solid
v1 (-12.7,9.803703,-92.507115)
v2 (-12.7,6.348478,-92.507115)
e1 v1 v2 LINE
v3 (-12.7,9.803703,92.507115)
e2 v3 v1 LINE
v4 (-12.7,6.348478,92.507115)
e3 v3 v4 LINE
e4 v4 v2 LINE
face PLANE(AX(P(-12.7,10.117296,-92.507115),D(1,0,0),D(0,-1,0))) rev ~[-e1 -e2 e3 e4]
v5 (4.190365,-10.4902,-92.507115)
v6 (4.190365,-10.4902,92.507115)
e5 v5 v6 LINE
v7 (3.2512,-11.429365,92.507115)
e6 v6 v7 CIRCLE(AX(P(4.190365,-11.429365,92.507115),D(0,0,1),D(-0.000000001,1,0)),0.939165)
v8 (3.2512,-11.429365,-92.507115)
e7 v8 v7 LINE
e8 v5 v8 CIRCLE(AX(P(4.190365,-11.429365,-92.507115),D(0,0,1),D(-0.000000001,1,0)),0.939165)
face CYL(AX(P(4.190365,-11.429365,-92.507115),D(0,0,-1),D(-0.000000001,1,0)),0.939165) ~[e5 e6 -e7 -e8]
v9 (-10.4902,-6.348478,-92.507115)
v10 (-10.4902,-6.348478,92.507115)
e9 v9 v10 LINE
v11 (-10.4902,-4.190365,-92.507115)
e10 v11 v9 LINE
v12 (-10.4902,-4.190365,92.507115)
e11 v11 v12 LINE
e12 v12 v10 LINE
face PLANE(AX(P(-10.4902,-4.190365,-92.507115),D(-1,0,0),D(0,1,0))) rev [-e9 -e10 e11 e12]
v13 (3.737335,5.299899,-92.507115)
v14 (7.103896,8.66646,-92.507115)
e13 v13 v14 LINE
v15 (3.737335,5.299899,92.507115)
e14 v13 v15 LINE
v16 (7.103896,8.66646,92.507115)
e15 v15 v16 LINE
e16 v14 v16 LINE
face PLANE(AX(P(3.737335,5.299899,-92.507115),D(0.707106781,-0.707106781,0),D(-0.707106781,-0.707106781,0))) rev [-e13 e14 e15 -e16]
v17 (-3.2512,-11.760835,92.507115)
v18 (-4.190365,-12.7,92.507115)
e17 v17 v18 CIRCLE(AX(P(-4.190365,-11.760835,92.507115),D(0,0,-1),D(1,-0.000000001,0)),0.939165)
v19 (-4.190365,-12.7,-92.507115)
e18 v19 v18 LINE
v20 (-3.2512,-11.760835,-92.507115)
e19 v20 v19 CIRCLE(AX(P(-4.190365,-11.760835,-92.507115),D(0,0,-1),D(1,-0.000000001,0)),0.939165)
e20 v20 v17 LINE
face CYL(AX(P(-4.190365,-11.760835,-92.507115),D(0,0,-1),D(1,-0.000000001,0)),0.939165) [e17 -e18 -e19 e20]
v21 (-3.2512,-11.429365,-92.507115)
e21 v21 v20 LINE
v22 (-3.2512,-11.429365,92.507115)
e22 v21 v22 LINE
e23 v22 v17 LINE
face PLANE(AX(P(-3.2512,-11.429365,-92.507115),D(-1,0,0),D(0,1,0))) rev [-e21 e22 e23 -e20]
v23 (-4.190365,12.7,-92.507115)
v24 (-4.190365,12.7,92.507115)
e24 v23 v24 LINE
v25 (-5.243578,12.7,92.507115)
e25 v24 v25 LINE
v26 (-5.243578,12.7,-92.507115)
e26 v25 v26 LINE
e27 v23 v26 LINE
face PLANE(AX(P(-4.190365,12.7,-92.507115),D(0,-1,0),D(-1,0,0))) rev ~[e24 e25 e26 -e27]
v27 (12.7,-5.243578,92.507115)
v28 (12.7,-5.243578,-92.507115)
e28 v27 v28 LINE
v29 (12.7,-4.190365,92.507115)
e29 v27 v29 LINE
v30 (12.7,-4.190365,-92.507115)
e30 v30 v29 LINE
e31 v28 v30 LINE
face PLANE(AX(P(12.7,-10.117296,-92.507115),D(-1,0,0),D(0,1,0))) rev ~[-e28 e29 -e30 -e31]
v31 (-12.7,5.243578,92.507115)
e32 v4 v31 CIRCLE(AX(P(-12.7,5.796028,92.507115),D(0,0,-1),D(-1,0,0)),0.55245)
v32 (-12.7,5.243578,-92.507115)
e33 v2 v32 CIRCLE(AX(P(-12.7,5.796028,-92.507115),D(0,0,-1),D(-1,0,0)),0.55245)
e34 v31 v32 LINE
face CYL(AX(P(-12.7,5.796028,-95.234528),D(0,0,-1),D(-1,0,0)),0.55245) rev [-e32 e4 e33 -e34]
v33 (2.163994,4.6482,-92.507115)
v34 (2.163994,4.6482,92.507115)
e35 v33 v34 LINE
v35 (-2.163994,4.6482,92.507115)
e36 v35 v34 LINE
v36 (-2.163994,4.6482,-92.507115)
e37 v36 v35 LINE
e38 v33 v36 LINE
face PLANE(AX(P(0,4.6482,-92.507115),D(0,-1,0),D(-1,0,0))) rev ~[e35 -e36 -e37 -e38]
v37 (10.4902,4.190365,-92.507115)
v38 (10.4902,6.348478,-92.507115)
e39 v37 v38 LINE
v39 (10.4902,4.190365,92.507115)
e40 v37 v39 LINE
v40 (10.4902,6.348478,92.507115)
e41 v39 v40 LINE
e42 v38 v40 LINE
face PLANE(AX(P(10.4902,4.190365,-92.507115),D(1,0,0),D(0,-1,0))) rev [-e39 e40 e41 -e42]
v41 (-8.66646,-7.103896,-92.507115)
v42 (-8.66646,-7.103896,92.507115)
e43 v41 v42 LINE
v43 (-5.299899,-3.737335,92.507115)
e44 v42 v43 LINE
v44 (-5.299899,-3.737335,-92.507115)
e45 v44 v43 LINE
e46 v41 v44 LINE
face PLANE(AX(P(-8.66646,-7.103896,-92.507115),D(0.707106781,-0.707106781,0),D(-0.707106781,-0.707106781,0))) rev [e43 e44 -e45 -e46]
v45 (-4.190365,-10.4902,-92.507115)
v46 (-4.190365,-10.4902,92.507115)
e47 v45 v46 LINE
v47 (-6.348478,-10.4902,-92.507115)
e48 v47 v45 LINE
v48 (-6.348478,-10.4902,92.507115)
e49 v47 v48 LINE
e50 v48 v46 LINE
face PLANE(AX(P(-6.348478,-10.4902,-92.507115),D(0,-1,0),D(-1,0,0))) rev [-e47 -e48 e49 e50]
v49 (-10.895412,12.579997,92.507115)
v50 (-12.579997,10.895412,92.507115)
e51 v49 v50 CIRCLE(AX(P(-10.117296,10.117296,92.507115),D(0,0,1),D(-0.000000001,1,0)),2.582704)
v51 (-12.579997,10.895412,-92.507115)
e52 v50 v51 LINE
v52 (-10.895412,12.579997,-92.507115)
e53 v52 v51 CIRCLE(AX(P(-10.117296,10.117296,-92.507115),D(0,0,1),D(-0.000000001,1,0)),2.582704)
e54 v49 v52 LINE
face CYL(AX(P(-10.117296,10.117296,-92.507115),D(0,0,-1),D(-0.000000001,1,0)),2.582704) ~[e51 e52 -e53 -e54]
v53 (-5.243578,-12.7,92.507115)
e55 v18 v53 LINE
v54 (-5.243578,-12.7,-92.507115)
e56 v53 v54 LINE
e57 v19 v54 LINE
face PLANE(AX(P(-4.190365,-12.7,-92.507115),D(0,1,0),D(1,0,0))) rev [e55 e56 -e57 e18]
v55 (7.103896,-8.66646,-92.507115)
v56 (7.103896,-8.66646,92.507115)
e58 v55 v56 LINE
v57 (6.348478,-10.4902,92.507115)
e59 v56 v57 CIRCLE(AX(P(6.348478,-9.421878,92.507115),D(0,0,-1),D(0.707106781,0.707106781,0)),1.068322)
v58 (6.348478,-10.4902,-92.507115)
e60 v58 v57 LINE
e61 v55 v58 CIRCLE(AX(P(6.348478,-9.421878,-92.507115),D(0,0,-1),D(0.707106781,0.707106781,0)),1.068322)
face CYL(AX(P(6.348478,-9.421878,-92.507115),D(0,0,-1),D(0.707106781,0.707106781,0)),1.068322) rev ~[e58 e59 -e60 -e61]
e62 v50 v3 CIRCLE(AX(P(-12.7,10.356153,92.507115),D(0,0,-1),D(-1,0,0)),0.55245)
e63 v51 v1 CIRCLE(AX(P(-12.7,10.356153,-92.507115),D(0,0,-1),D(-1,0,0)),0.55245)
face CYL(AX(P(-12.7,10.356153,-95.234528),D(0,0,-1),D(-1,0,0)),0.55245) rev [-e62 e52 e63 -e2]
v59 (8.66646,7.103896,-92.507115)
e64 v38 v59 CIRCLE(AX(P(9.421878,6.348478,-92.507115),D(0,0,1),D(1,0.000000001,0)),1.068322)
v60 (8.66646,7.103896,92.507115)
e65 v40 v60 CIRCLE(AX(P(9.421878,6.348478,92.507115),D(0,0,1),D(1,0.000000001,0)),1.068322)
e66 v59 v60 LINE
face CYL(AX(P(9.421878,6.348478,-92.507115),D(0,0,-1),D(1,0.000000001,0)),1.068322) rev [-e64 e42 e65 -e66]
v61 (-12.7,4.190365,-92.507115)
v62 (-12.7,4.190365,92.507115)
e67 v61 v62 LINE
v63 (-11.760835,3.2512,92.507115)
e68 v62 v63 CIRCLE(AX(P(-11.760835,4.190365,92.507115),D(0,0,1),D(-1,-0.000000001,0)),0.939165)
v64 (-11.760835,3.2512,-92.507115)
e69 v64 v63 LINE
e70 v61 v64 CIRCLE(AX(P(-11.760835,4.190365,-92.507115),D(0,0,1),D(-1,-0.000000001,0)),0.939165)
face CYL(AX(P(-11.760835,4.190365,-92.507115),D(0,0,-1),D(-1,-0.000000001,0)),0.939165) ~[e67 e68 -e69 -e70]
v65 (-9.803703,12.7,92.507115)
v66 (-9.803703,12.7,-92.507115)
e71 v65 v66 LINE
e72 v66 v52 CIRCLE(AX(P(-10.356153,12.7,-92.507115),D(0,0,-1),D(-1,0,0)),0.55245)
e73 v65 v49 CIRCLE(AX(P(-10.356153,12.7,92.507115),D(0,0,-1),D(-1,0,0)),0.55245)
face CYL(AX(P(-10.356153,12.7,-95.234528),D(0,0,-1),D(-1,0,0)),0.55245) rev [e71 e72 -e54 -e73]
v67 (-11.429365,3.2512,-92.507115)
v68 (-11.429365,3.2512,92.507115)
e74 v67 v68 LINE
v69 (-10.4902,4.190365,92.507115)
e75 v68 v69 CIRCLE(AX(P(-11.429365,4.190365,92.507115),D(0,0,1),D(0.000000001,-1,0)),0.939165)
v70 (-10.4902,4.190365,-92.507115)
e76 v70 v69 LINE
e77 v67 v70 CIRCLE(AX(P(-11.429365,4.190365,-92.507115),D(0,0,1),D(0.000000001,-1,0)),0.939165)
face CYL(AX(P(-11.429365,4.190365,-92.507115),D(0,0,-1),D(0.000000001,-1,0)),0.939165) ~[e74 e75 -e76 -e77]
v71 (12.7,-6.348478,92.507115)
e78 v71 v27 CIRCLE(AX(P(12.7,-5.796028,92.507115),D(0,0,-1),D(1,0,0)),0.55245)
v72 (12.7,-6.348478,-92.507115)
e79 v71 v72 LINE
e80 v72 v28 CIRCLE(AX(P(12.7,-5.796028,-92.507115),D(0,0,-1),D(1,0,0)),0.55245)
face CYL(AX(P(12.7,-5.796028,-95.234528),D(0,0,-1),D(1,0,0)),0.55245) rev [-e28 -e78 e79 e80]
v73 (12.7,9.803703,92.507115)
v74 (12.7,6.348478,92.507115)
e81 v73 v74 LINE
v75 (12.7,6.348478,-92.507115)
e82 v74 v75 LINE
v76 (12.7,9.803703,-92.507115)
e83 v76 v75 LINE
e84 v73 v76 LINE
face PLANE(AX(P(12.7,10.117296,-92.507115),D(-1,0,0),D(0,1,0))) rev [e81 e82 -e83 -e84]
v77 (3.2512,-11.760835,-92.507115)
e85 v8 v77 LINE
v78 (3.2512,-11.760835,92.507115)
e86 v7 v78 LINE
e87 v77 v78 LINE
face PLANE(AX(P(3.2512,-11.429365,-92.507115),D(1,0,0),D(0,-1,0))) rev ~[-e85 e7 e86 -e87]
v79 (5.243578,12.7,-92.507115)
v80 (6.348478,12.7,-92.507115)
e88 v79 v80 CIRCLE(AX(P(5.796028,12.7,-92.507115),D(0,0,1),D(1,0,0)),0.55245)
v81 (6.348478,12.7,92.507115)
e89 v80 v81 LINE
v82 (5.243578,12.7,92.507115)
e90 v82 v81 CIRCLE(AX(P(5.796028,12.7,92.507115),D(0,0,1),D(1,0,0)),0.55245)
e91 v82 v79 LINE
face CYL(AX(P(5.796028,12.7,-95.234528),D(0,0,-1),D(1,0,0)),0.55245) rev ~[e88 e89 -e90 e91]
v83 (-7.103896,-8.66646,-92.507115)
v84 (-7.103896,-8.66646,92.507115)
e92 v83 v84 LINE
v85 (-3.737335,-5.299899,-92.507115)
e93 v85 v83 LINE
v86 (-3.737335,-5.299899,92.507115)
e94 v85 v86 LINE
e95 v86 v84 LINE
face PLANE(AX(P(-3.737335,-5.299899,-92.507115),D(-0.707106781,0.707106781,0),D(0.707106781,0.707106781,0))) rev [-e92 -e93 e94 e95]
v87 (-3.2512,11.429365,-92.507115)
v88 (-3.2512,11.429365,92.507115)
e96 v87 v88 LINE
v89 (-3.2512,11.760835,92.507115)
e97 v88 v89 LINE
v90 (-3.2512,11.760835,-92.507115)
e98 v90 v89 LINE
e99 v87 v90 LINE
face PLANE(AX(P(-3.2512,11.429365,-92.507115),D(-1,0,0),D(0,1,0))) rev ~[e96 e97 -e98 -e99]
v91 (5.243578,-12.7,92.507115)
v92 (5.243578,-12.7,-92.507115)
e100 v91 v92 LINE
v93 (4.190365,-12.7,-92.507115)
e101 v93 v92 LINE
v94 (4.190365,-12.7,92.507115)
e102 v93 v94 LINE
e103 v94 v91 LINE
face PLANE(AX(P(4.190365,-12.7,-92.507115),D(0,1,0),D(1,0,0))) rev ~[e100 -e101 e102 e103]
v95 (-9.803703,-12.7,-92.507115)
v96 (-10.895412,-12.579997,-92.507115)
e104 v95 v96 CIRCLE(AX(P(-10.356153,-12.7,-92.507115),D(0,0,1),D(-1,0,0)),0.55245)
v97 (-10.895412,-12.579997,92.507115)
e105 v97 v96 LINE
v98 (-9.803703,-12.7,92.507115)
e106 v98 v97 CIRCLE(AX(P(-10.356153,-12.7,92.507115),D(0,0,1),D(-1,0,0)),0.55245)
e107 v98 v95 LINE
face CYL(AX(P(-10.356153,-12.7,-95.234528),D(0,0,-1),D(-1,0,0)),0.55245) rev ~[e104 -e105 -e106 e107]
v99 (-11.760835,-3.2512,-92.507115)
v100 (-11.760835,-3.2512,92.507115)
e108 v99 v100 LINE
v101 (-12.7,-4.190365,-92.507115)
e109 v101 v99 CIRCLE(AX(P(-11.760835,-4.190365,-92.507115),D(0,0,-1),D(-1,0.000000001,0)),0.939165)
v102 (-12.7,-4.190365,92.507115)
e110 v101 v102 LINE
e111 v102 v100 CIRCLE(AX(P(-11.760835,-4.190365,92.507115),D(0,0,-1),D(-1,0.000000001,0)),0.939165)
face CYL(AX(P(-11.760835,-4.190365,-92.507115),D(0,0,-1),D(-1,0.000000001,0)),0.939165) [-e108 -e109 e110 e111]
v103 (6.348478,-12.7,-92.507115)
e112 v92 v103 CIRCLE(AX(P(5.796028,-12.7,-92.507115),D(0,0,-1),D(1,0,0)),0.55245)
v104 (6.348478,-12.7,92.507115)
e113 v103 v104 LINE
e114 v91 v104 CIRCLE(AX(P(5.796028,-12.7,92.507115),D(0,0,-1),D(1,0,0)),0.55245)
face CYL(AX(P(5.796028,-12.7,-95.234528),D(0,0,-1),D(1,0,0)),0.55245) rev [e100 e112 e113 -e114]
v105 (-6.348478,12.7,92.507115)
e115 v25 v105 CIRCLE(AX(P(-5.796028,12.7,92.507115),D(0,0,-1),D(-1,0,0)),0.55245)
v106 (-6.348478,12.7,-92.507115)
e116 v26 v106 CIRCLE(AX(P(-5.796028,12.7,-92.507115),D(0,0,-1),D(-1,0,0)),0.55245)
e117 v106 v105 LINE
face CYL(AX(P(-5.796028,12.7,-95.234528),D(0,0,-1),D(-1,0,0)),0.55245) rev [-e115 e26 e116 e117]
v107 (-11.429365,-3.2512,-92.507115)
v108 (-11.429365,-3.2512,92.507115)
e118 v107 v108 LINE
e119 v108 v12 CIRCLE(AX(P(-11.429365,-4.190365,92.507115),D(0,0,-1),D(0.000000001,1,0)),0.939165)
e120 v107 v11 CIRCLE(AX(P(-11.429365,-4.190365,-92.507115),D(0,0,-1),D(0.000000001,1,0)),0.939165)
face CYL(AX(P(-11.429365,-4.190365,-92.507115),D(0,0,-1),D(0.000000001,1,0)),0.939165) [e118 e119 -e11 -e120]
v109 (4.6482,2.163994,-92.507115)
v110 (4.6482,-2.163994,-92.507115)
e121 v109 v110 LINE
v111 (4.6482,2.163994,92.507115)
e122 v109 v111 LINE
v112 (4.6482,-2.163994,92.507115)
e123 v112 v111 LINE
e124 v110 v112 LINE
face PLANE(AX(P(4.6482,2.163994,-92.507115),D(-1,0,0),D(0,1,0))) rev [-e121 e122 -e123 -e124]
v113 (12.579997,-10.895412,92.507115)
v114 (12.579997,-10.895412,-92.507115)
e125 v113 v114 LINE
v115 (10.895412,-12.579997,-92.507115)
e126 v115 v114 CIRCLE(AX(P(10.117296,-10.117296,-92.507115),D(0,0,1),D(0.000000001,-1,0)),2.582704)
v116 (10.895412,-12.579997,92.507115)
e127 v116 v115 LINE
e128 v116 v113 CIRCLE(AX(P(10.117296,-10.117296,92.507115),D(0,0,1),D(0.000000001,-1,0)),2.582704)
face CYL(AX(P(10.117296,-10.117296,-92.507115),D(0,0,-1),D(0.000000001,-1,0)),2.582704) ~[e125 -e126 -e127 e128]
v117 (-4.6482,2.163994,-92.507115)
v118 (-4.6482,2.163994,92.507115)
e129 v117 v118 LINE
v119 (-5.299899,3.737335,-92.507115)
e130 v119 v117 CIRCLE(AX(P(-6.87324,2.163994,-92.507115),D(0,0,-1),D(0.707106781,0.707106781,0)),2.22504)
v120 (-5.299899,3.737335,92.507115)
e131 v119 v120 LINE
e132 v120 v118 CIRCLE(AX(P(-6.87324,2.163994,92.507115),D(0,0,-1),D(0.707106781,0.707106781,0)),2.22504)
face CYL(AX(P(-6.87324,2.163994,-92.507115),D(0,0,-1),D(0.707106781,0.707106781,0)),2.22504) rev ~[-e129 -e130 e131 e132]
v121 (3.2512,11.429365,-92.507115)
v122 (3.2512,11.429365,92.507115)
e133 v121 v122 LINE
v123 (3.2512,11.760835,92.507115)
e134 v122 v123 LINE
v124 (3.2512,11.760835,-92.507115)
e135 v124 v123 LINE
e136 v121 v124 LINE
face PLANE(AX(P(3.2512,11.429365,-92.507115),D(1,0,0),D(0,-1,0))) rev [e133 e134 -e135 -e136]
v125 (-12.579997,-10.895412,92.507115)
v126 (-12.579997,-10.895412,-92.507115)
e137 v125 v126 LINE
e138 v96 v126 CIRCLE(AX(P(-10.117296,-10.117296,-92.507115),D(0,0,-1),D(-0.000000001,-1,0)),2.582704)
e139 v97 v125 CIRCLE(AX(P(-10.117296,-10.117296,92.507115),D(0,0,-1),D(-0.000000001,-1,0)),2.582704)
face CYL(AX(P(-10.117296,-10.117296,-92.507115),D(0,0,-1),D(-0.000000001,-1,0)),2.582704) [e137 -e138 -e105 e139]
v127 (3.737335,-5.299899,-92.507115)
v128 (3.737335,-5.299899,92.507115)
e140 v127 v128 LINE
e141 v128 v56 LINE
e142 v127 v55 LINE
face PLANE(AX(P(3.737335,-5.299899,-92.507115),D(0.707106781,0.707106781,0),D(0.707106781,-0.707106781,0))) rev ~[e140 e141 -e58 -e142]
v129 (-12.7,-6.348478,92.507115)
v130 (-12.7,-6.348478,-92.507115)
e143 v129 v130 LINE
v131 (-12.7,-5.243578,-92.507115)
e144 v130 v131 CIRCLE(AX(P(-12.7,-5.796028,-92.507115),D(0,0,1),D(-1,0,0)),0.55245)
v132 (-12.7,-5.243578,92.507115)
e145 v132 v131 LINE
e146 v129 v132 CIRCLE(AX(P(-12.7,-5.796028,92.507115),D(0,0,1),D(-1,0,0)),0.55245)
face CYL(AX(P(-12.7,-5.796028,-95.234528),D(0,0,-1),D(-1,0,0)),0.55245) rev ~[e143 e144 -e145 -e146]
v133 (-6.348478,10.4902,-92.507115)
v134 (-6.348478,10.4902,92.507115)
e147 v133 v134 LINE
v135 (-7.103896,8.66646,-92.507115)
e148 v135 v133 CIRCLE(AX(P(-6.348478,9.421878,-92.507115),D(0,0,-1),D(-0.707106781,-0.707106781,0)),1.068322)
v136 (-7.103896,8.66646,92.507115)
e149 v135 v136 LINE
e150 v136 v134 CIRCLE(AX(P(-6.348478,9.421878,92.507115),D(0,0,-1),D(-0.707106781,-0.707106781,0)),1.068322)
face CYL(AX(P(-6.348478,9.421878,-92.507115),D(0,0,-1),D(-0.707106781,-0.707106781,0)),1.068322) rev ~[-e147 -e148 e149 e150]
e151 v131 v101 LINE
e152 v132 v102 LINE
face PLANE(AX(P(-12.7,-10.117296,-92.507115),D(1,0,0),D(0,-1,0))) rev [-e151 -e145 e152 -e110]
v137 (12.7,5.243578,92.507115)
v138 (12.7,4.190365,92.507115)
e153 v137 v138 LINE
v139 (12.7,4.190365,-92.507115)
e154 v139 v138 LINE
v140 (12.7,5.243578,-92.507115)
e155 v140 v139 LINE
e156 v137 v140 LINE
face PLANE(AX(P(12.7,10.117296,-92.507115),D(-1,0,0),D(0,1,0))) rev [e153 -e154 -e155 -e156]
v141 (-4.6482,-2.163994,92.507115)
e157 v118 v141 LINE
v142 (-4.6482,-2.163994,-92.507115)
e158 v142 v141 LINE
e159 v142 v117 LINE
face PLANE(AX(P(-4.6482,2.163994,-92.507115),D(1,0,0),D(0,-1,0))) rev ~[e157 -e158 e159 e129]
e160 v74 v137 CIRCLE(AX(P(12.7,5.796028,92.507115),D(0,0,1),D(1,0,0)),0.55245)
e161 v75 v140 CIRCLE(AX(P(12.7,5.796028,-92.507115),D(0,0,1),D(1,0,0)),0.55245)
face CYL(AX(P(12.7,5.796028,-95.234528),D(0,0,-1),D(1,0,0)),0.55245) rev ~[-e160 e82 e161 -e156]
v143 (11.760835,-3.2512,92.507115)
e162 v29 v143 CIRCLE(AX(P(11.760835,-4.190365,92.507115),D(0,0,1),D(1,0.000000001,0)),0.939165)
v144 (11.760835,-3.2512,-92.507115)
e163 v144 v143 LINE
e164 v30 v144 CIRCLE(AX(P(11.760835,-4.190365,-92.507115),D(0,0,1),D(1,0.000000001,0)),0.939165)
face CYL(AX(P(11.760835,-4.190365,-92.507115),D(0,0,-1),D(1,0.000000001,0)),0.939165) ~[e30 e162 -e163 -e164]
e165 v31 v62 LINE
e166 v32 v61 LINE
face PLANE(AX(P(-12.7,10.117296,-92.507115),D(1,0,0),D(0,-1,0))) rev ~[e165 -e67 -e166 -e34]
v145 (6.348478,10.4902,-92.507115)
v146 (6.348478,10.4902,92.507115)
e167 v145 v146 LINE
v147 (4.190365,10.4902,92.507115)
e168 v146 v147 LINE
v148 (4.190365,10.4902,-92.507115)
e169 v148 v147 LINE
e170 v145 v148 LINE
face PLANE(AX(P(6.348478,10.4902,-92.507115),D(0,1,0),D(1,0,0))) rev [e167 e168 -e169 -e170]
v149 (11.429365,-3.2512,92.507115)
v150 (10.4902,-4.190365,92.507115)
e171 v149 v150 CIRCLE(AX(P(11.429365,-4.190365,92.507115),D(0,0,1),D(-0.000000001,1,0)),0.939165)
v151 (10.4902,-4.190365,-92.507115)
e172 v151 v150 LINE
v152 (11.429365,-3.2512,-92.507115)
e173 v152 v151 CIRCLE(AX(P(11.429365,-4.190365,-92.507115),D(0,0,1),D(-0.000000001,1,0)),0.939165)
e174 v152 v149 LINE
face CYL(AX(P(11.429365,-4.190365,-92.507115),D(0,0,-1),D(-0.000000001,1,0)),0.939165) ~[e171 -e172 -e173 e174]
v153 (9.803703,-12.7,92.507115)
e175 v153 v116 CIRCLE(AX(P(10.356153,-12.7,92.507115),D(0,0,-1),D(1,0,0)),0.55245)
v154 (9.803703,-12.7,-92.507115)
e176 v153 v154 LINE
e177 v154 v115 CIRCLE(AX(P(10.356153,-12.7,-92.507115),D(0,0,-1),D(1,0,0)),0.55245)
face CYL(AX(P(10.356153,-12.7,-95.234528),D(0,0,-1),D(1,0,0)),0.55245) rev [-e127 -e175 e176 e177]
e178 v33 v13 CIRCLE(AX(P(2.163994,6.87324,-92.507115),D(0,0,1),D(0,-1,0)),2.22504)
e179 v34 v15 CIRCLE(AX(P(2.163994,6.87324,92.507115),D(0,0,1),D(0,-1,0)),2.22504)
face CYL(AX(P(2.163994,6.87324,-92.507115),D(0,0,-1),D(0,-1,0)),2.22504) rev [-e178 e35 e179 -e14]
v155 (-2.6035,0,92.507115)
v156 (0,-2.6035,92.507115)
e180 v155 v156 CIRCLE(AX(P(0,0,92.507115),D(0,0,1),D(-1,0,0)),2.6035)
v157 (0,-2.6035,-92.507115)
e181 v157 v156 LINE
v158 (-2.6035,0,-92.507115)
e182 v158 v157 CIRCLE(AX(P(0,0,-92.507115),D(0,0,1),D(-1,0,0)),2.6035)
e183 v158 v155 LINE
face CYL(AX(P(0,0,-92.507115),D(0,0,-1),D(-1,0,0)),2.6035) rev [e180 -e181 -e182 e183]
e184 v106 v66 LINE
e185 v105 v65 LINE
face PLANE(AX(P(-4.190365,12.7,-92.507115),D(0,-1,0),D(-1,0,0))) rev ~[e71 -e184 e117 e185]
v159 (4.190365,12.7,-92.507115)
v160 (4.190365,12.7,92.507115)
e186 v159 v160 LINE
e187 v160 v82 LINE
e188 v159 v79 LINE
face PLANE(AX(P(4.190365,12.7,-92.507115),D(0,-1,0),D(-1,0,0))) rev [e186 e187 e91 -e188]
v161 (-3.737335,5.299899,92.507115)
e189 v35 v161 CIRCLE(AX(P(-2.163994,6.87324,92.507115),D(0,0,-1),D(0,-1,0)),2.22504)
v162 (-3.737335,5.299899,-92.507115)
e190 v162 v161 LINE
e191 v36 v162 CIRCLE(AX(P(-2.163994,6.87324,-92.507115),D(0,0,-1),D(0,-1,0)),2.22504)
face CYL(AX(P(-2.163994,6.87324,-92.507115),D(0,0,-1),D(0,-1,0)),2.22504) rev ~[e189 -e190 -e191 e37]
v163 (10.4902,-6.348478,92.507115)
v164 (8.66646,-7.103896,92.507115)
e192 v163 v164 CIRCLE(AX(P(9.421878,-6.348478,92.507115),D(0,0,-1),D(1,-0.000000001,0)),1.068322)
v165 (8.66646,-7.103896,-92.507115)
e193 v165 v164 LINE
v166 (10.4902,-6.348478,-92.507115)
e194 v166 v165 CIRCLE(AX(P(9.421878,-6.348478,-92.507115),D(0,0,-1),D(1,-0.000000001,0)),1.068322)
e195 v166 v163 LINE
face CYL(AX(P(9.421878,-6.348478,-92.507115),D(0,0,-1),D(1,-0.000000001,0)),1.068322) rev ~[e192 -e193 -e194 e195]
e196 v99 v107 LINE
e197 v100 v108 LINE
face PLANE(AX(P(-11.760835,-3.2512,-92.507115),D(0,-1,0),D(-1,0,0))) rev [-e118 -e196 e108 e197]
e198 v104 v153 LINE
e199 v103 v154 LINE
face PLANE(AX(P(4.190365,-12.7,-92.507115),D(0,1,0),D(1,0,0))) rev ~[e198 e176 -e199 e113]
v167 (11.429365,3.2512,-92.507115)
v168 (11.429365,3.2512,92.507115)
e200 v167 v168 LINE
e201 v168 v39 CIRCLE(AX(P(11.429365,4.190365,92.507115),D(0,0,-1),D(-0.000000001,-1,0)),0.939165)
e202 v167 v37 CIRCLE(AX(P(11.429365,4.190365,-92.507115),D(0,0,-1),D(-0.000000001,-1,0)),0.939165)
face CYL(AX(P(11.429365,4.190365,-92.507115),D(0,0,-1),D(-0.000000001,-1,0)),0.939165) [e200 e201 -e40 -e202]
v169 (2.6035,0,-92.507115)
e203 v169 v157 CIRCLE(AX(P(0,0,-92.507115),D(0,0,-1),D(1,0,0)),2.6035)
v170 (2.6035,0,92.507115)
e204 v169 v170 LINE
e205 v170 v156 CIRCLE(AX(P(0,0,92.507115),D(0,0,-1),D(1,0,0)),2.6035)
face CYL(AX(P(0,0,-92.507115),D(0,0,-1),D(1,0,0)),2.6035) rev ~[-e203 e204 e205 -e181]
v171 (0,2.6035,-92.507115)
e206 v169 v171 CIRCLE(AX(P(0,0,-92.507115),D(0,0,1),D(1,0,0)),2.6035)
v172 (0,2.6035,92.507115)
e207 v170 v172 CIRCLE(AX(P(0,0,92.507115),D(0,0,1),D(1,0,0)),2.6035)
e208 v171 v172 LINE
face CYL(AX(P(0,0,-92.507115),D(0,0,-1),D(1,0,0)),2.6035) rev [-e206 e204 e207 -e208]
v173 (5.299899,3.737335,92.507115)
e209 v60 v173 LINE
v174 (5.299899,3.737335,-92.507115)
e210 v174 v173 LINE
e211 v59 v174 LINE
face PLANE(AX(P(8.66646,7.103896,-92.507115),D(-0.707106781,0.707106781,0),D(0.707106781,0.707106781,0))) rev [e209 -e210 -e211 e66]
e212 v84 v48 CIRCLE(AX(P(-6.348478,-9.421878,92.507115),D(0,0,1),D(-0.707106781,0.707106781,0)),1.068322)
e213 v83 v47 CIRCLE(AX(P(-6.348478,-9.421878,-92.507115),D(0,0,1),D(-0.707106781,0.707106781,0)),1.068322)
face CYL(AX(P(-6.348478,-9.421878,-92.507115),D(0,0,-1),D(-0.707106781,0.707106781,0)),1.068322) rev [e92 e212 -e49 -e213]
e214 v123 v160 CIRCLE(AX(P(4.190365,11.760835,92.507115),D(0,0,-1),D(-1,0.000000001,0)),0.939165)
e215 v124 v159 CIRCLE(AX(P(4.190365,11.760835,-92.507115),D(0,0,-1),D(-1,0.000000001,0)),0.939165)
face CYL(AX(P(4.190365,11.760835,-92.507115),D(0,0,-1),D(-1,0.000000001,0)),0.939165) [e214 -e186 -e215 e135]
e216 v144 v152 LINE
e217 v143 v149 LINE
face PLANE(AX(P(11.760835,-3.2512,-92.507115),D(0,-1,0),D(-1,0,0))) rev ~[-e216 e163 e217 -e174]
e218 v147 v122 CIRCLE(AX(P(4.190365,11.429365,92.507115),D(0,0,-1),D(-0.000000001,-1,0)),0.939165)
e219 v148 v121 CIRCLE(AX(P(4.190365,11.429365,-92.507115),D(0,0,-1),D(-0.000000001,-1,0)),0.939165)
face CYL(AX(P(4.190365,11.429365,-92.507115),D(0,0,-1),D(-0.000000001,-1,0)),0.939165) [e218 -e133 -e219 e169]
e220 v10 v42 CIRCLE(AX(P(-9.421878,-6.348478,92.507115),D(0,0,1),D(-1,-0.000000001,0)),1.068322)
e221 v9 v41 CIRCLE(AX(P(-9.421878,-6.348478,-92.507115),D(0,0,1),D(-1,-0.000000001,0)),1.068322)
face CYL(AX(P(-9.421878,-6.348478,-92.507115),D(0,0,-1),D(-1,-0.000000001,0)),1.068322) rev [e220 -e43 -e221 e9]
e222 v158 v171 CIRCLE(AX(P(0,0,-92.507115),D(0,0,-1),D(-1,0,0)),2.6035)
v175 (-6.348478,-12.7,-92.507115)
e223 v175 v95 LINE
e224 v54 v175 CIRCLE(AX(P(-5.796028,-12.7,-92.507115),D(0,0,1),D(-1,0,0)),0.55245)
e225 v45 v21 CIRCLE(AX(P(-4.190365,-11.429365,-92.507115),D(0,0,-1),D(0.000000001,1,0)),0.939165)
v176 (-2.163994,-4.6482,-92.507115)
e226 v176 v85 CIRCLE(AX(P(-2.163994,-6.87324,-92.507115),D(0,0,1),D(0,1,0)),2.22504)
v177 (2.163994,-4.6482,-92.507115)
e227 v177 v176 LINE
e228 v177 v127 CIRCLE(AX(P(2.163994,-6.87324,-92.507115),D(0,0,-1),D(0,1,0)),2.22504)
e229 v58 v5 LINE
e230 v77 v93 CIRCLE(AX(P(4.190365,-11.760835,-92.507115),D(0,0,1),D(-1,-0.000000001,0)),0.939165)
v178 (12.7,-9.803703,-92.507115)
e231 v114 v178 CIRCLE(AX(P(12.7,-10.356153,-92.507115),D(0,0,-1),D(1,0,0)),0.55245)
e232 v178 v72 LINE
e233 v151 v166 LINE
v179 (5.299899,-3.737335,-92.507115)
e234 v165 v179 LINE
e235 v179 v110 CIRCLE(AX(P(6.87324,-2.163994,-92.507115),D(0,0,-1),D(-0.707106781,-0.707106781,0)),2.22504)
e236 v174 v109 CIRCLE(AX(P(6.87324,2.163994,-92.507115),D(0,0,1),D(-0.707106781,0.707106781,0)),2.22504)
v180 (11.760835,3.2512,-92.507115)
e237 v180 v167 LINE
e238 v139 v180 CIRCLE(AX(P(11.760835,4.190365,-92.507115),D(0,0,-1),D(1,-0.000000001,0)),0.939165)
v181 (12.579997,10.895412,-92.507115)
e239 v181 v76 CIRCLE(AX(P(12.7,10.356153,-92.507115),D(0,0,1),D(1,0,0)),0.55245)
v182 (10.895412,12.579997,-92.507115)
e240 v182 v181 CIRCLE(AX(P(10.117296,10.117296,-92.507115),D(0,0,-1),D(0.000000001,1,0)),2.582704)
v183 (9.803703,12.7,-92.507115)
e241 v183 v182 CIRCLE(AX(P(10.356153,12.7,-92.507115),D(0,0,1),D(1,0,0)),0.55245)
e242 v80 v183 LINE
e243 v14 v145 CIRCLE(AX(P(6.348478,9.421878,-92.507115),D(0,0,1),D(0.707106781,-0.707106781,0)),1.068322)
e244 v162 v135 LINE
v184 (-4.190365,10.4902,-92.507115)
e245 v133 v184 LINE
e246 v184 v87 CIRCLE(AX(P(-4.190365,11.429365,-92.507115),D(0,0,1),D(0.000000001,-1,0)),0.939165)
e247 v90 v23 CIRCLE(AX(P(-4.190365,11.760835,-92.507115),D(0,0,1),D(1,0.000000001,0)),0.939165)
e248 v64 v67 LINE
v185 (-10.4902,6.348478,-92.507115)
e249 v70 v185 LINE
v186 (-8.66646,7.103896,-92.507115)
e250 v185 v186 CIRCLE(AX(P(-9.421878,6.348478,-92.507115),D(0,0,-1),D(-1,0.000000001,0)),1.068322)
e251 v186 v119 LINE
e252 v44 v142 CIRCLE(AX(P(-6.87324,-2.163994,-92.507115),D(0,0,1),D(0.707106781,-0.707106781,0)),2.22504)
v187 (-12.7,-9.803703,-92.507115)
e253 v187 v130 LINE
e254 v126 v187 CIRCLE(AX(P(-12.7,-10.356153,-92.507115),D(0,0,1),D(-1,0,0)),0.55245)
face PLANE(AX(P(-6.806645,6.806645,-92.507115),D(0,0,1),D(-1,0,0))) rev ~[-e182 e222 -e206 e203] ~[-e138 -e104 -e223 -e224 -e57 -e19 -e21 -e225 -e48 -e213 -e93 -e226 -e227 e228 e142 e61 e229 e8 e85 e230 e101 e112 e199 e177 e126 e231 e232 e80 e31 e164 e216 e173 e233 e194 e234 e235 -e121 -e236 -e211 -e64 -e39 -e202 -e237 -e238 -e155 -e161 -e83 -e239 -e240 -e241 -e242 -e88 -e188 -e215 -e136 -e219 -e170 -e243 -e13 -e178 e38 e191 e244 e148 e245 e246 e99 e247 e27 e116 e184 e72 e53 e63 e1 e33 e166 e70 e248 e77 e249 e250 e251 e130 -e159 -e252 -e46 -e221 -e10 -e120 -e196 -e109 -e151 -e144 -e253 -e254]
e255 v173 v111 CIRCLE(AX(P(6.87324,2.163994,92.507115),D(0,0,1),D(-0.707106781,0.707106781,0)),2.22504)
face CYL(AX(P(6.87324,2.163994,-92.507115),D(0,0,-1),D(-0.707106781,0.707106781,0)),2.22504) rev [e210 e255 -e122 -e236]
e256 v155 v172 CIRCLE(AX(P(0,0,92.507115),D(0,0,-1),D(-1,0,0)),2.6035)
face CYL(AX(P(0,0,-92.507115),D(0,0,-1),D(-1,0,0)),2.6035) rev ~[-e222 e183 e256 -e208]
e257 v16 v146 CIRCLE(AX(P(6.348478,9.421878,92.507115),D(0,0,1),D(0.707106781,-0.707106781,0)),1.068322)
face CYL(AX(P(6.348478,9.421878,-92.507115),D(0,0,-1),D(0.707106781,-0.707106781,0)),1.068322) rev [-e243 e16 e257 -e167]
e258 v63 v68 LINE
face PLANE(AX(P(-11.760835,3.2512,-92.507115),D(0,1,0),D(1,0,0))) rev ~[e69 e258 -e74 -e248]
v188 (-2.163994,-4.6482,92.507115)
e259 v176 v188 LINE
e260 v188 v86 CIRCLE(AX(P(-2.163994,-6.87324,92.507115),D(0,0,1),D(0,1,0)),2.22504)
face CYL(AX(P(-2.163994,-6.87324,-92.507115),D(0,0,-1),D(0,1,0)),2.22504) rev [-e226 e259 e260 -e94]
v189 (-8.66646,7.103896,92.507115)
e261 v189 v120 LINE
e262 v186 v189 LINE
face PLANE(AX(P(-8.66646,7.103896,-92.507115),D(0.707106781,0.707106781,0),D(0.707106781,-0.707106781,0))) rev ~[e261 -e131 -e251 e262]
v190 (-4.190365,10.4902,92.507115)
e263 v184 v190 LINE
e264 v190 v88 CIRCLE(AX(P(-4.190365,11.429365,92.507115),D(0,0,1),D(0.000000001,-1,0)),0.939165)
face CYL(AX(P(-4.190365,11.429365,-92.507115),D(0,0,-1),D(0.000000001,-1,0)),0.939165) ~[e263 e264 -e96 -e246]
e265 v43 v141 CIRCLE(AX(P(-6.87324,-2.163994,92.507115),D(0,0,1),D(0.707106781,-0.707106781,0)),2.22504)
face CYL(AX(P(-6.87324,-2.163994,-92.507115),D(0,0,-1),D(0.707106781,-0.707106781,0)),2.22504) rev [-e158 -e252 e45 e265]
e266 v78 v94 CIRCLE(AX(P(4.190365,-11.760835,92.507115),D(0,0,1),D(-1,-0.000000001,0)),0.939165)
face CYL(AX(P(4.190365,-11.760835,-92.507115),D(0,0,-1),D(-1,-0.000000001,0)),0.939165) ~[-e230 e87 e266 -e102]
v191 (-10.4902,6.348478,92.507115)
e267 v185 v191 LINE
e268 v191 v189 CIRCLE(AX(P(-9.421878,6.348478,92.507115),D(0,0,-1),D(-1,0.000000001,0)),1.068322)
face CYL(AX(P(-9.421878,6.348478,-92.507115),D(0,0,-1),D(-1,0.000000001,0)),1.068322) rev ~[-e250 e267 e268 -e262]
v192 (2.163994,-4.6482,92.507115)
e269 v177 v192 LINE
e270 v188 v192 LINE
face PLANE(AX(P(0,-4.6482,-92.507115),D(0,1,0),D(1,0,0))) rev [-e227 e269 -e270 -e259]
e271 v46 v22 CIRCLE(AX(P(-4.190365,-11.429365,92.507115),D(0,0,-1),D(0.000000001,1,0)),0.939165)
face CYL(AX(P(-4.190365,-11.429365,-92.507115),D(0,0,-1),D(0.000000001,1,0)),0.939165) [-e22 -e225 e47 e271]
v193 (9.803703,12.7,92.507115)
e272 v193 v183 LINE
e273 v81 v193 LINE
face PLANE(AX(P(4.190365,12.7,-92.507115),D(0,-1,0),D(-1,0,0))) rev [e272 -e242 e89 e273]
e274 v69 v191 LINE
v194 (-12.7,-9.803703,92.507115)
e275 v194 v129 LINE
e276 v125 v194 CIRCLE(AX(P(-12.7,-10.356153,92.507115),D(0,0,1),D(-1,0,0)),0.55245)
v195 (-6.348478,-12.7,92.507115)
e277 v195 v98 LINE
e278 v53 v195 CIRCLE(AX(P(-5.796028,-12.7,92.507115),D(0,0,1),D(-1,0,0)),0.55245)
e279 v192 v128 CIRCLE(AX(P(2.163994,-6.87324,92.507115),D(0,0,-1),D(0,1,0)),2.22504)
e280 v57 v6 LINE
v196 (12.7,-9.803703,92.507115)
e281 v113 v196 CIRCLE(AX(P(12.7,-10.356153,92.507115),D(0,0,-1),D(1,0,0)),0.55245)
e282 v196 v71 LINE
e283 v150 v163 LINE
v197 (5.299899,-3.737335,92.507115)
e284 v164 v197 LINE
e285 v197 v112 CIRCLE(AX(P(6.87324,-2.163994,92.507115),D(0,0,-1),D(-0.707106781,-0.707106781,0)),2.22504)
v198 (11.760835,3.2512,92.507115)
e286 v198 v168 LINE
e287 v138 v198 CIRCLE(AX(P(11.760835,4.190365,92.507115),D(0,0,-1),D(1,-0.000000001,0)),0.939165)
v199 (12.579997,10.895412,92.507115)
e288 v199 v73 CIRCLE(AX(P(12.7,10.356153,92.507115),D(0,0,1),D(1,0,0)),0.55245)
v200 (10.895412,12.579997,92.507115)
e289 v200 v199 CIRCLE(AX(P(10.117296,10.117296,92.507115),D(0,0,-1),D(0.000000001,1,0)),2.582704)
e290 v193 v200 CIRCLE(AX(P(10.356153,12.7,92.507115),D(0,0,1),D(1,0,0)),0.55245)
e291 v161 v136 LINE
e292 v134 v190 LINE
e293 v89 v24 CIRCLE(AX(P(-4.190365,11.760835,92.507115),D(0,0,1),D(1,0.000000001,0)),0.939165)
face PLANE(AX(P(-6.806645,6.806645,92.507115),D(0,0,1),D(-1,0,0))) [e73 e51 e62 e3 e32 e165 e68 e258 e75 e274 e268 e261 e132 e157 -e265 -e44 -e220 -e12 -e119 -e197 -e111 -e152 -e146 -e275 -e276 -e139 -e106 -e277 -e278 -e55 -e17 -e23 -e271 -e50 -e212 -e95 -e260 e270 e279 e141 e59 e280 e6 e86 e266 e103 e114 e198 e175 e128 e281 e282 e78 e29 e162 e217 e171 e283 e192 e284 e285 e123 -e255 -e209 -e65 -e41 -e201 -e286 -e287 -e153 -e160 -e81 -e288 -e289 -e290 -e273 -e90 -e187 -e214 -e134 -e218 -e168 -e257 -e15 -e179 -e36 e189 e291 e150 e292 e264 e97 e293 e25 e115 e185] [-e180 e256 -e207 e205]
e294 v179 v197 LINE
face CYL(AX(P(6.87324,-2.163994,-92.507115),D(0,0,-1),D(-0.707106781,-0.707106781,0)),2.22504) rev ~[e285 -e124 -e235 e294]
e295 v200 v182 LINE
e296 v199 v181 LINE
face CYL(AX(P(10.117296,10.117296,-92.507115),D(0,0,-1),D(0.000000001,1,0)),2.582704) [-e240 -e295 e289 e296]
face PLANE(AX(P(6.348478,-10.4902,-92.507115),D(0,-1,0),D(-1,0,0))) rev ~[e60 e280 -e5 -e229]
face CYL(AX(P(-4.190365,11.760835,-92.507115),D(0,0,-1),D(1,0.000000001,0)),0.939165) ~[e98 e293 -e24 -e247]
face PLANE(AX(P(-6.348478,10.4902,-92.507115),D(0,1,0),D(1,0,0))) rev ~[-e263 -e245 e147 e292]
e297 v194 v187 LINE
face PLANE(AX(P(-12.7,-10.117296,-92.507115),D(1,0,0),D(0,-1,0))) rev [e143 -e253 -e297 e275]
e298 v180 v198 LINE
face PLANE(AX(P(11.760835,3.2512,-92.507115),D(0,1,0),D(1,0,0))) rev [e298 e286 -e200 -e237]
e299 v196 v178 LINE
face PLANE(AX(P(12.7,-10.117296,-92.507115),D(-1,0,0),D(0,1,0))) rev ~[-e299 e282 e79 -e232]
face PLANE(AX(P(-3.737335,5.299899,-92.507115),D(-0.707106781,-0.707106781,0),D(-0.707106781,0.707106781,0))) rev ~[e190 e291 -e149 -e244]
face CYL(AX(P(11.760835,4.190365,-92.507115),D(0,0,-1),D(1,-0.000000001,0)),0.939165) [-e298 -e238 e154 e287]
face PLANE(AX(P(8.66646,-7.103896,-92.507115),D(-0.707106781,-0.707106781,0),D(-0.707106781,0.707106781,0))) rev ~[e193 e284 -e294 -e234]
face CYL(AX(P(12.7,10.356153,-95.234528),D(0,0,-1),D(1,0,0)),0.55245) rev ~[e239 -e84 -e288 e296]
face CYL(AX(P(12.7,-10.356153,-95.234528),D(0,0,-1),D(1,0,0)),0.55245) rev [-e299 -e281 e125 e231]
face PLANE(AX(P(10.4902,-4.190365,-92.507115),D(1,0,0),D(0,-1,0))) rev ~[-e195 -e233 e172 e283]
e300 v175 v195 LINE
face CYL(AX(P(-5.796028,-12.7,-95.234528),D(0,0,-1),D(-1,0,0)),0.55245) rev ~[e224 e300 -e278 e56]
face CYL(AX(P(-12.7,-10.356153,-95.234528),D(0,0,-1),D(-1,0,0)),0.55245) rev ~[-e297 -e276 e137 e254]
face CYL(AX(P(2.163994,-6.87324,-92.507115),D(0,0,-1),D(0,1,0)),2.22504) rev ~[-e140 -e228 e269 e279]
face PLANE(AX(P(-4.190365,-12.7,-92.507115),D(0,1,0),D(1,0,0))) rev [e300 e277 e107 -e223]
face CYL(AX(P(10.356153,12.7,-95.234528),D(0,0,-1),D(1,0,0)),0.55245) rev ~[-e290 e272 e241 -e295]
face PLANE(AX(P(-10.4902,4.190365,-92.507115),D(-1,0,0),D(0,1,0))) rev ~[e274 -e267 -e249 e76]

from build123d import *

# Parameters (mm, degrees)
BOSS_EXTRUDE1_START     = -92.507115
BOSS_EXTRUDE1_DEPTH     = 185.01423
CUT_EXTRUDE1_DEPTH      = 95.234528309
CUT_EXTRUDE1_DEPTH_BACK = 95.234528309
SKETCH5_R               = 0.55245


with BuildPart() as part:
    # Sketch4 → Boss-Extrude1 (new body)
    with BuildSketch(Plane.XY.offset(BOSS_EXTRUDE1_START)):
        with BuildLine():
            Line((4.190365, -12.7), (10.11729625, -12.7))
            ThreePointArc((10.11729625, -12.7), (11.943543585, -11.943543585), (12.7, -10.11729625))
            Line((12.7, -10.11729625), (12.7, -4.190365))
            ThreePointArc((12.7, -4.190365), (12.42492494, -3.52627506), (11.760835, -3.2512))
            Line((11.760835, -3.2512), (11.429365, -3.2512))
            ThreePointArc((11.429365, -3.2512), (10.76527506, -3.52627506), (10.4902, -4.190365))
            Line((10.4902, -4.190365), (10.4902, -6.348478019))
            ThreePointArc((10.4902, -6.348478019), (9.830707141, -7.335478831), (8.666460301, -7.103895736))
            Line((8.666460301, -7.103895736), (5.299899128, -3.737334563))
            ThreePointArc((5.299899128, -3.737334563), (4.817571085, -3.015479634), (4.6482, -2.16399369))
            Line((4.6482, -2.16399369), (4.6482, 0))
            Line((4.6482, 0), (2.6035, 0))
            ThreePointArc((2.6035, 0), (1.840952505, -1.840952505), (0, -2.6035))
            Line((0, -2.6035), (0, -4.6482))
            Line((0, -4.6482), (2.16399369, -4.6482))
            ThreePointArc((2.16399369, -4.6482), (3.015479634, -4.817571085), (3.737334563, -5.299899128))
            Line((3.737334563, -5.299899128), (7.103895736, -8.666460301))
            ThreePointArc((7.103895736, -8.666460301), (7.335478831, -9.830707141), (6.348478019, -10.4902))
            Line((6.348478019, -10.4902), (4.190365, -10.4902))
            ThreePointArc((4.190365, -10.4902), (3.52627506, -10.76527506), (3.2512, -11.429365))
            Line((3.2512, -11.429365), (3.2512, -11.760835))
            ThreePointArc((3.2512, -11.760835), (3.52627506, -12.42492494), (4.190365, -12.7))
        make_face()
    extrude(amount=BOSS_EXTRUDE1_DEPTH)

    # Sketch5 → Cut-Extrude1 (cut, two sides: drawn at the far end of the back side and taken through both)
    with BuildSketch(Plane.XY.offset(-CUT_EXTRUDE1_DEPTH_BACK)):
        with Locations((10.356153152, -12.7)):
            Circle(SKETCH5_R)
        with Locations((5.796028019, -12.7)):
            Circle(SKETCH5_R)
        with Locations((12.7, -10.356153152)):
            Circle(SKETCH5_R)
        with Locations((12.7, -5.796028019)):
            Circle(SKETCH5_R)
    extrude(amount=CUT_EXTRUDE1_DEPTH + CUT_EXTRUDE1_DEPTH_BACK, mode=Mode.SUBTRACT)

    # Mirror1: part across plane


with BuildPart() as part_1:
    add(part.part)
    add(part.part.mirror(Plane(origin=(0, 0, 0), x_dir=(0, 0, 1), z_dir=(1, 0, 0))))

    # Mirror2: part across plane


with BuildPart() as part_2:
    add(part_1.part)
    add(part_1.part.mirror(Plane.ZX))


solid = part_2.part
